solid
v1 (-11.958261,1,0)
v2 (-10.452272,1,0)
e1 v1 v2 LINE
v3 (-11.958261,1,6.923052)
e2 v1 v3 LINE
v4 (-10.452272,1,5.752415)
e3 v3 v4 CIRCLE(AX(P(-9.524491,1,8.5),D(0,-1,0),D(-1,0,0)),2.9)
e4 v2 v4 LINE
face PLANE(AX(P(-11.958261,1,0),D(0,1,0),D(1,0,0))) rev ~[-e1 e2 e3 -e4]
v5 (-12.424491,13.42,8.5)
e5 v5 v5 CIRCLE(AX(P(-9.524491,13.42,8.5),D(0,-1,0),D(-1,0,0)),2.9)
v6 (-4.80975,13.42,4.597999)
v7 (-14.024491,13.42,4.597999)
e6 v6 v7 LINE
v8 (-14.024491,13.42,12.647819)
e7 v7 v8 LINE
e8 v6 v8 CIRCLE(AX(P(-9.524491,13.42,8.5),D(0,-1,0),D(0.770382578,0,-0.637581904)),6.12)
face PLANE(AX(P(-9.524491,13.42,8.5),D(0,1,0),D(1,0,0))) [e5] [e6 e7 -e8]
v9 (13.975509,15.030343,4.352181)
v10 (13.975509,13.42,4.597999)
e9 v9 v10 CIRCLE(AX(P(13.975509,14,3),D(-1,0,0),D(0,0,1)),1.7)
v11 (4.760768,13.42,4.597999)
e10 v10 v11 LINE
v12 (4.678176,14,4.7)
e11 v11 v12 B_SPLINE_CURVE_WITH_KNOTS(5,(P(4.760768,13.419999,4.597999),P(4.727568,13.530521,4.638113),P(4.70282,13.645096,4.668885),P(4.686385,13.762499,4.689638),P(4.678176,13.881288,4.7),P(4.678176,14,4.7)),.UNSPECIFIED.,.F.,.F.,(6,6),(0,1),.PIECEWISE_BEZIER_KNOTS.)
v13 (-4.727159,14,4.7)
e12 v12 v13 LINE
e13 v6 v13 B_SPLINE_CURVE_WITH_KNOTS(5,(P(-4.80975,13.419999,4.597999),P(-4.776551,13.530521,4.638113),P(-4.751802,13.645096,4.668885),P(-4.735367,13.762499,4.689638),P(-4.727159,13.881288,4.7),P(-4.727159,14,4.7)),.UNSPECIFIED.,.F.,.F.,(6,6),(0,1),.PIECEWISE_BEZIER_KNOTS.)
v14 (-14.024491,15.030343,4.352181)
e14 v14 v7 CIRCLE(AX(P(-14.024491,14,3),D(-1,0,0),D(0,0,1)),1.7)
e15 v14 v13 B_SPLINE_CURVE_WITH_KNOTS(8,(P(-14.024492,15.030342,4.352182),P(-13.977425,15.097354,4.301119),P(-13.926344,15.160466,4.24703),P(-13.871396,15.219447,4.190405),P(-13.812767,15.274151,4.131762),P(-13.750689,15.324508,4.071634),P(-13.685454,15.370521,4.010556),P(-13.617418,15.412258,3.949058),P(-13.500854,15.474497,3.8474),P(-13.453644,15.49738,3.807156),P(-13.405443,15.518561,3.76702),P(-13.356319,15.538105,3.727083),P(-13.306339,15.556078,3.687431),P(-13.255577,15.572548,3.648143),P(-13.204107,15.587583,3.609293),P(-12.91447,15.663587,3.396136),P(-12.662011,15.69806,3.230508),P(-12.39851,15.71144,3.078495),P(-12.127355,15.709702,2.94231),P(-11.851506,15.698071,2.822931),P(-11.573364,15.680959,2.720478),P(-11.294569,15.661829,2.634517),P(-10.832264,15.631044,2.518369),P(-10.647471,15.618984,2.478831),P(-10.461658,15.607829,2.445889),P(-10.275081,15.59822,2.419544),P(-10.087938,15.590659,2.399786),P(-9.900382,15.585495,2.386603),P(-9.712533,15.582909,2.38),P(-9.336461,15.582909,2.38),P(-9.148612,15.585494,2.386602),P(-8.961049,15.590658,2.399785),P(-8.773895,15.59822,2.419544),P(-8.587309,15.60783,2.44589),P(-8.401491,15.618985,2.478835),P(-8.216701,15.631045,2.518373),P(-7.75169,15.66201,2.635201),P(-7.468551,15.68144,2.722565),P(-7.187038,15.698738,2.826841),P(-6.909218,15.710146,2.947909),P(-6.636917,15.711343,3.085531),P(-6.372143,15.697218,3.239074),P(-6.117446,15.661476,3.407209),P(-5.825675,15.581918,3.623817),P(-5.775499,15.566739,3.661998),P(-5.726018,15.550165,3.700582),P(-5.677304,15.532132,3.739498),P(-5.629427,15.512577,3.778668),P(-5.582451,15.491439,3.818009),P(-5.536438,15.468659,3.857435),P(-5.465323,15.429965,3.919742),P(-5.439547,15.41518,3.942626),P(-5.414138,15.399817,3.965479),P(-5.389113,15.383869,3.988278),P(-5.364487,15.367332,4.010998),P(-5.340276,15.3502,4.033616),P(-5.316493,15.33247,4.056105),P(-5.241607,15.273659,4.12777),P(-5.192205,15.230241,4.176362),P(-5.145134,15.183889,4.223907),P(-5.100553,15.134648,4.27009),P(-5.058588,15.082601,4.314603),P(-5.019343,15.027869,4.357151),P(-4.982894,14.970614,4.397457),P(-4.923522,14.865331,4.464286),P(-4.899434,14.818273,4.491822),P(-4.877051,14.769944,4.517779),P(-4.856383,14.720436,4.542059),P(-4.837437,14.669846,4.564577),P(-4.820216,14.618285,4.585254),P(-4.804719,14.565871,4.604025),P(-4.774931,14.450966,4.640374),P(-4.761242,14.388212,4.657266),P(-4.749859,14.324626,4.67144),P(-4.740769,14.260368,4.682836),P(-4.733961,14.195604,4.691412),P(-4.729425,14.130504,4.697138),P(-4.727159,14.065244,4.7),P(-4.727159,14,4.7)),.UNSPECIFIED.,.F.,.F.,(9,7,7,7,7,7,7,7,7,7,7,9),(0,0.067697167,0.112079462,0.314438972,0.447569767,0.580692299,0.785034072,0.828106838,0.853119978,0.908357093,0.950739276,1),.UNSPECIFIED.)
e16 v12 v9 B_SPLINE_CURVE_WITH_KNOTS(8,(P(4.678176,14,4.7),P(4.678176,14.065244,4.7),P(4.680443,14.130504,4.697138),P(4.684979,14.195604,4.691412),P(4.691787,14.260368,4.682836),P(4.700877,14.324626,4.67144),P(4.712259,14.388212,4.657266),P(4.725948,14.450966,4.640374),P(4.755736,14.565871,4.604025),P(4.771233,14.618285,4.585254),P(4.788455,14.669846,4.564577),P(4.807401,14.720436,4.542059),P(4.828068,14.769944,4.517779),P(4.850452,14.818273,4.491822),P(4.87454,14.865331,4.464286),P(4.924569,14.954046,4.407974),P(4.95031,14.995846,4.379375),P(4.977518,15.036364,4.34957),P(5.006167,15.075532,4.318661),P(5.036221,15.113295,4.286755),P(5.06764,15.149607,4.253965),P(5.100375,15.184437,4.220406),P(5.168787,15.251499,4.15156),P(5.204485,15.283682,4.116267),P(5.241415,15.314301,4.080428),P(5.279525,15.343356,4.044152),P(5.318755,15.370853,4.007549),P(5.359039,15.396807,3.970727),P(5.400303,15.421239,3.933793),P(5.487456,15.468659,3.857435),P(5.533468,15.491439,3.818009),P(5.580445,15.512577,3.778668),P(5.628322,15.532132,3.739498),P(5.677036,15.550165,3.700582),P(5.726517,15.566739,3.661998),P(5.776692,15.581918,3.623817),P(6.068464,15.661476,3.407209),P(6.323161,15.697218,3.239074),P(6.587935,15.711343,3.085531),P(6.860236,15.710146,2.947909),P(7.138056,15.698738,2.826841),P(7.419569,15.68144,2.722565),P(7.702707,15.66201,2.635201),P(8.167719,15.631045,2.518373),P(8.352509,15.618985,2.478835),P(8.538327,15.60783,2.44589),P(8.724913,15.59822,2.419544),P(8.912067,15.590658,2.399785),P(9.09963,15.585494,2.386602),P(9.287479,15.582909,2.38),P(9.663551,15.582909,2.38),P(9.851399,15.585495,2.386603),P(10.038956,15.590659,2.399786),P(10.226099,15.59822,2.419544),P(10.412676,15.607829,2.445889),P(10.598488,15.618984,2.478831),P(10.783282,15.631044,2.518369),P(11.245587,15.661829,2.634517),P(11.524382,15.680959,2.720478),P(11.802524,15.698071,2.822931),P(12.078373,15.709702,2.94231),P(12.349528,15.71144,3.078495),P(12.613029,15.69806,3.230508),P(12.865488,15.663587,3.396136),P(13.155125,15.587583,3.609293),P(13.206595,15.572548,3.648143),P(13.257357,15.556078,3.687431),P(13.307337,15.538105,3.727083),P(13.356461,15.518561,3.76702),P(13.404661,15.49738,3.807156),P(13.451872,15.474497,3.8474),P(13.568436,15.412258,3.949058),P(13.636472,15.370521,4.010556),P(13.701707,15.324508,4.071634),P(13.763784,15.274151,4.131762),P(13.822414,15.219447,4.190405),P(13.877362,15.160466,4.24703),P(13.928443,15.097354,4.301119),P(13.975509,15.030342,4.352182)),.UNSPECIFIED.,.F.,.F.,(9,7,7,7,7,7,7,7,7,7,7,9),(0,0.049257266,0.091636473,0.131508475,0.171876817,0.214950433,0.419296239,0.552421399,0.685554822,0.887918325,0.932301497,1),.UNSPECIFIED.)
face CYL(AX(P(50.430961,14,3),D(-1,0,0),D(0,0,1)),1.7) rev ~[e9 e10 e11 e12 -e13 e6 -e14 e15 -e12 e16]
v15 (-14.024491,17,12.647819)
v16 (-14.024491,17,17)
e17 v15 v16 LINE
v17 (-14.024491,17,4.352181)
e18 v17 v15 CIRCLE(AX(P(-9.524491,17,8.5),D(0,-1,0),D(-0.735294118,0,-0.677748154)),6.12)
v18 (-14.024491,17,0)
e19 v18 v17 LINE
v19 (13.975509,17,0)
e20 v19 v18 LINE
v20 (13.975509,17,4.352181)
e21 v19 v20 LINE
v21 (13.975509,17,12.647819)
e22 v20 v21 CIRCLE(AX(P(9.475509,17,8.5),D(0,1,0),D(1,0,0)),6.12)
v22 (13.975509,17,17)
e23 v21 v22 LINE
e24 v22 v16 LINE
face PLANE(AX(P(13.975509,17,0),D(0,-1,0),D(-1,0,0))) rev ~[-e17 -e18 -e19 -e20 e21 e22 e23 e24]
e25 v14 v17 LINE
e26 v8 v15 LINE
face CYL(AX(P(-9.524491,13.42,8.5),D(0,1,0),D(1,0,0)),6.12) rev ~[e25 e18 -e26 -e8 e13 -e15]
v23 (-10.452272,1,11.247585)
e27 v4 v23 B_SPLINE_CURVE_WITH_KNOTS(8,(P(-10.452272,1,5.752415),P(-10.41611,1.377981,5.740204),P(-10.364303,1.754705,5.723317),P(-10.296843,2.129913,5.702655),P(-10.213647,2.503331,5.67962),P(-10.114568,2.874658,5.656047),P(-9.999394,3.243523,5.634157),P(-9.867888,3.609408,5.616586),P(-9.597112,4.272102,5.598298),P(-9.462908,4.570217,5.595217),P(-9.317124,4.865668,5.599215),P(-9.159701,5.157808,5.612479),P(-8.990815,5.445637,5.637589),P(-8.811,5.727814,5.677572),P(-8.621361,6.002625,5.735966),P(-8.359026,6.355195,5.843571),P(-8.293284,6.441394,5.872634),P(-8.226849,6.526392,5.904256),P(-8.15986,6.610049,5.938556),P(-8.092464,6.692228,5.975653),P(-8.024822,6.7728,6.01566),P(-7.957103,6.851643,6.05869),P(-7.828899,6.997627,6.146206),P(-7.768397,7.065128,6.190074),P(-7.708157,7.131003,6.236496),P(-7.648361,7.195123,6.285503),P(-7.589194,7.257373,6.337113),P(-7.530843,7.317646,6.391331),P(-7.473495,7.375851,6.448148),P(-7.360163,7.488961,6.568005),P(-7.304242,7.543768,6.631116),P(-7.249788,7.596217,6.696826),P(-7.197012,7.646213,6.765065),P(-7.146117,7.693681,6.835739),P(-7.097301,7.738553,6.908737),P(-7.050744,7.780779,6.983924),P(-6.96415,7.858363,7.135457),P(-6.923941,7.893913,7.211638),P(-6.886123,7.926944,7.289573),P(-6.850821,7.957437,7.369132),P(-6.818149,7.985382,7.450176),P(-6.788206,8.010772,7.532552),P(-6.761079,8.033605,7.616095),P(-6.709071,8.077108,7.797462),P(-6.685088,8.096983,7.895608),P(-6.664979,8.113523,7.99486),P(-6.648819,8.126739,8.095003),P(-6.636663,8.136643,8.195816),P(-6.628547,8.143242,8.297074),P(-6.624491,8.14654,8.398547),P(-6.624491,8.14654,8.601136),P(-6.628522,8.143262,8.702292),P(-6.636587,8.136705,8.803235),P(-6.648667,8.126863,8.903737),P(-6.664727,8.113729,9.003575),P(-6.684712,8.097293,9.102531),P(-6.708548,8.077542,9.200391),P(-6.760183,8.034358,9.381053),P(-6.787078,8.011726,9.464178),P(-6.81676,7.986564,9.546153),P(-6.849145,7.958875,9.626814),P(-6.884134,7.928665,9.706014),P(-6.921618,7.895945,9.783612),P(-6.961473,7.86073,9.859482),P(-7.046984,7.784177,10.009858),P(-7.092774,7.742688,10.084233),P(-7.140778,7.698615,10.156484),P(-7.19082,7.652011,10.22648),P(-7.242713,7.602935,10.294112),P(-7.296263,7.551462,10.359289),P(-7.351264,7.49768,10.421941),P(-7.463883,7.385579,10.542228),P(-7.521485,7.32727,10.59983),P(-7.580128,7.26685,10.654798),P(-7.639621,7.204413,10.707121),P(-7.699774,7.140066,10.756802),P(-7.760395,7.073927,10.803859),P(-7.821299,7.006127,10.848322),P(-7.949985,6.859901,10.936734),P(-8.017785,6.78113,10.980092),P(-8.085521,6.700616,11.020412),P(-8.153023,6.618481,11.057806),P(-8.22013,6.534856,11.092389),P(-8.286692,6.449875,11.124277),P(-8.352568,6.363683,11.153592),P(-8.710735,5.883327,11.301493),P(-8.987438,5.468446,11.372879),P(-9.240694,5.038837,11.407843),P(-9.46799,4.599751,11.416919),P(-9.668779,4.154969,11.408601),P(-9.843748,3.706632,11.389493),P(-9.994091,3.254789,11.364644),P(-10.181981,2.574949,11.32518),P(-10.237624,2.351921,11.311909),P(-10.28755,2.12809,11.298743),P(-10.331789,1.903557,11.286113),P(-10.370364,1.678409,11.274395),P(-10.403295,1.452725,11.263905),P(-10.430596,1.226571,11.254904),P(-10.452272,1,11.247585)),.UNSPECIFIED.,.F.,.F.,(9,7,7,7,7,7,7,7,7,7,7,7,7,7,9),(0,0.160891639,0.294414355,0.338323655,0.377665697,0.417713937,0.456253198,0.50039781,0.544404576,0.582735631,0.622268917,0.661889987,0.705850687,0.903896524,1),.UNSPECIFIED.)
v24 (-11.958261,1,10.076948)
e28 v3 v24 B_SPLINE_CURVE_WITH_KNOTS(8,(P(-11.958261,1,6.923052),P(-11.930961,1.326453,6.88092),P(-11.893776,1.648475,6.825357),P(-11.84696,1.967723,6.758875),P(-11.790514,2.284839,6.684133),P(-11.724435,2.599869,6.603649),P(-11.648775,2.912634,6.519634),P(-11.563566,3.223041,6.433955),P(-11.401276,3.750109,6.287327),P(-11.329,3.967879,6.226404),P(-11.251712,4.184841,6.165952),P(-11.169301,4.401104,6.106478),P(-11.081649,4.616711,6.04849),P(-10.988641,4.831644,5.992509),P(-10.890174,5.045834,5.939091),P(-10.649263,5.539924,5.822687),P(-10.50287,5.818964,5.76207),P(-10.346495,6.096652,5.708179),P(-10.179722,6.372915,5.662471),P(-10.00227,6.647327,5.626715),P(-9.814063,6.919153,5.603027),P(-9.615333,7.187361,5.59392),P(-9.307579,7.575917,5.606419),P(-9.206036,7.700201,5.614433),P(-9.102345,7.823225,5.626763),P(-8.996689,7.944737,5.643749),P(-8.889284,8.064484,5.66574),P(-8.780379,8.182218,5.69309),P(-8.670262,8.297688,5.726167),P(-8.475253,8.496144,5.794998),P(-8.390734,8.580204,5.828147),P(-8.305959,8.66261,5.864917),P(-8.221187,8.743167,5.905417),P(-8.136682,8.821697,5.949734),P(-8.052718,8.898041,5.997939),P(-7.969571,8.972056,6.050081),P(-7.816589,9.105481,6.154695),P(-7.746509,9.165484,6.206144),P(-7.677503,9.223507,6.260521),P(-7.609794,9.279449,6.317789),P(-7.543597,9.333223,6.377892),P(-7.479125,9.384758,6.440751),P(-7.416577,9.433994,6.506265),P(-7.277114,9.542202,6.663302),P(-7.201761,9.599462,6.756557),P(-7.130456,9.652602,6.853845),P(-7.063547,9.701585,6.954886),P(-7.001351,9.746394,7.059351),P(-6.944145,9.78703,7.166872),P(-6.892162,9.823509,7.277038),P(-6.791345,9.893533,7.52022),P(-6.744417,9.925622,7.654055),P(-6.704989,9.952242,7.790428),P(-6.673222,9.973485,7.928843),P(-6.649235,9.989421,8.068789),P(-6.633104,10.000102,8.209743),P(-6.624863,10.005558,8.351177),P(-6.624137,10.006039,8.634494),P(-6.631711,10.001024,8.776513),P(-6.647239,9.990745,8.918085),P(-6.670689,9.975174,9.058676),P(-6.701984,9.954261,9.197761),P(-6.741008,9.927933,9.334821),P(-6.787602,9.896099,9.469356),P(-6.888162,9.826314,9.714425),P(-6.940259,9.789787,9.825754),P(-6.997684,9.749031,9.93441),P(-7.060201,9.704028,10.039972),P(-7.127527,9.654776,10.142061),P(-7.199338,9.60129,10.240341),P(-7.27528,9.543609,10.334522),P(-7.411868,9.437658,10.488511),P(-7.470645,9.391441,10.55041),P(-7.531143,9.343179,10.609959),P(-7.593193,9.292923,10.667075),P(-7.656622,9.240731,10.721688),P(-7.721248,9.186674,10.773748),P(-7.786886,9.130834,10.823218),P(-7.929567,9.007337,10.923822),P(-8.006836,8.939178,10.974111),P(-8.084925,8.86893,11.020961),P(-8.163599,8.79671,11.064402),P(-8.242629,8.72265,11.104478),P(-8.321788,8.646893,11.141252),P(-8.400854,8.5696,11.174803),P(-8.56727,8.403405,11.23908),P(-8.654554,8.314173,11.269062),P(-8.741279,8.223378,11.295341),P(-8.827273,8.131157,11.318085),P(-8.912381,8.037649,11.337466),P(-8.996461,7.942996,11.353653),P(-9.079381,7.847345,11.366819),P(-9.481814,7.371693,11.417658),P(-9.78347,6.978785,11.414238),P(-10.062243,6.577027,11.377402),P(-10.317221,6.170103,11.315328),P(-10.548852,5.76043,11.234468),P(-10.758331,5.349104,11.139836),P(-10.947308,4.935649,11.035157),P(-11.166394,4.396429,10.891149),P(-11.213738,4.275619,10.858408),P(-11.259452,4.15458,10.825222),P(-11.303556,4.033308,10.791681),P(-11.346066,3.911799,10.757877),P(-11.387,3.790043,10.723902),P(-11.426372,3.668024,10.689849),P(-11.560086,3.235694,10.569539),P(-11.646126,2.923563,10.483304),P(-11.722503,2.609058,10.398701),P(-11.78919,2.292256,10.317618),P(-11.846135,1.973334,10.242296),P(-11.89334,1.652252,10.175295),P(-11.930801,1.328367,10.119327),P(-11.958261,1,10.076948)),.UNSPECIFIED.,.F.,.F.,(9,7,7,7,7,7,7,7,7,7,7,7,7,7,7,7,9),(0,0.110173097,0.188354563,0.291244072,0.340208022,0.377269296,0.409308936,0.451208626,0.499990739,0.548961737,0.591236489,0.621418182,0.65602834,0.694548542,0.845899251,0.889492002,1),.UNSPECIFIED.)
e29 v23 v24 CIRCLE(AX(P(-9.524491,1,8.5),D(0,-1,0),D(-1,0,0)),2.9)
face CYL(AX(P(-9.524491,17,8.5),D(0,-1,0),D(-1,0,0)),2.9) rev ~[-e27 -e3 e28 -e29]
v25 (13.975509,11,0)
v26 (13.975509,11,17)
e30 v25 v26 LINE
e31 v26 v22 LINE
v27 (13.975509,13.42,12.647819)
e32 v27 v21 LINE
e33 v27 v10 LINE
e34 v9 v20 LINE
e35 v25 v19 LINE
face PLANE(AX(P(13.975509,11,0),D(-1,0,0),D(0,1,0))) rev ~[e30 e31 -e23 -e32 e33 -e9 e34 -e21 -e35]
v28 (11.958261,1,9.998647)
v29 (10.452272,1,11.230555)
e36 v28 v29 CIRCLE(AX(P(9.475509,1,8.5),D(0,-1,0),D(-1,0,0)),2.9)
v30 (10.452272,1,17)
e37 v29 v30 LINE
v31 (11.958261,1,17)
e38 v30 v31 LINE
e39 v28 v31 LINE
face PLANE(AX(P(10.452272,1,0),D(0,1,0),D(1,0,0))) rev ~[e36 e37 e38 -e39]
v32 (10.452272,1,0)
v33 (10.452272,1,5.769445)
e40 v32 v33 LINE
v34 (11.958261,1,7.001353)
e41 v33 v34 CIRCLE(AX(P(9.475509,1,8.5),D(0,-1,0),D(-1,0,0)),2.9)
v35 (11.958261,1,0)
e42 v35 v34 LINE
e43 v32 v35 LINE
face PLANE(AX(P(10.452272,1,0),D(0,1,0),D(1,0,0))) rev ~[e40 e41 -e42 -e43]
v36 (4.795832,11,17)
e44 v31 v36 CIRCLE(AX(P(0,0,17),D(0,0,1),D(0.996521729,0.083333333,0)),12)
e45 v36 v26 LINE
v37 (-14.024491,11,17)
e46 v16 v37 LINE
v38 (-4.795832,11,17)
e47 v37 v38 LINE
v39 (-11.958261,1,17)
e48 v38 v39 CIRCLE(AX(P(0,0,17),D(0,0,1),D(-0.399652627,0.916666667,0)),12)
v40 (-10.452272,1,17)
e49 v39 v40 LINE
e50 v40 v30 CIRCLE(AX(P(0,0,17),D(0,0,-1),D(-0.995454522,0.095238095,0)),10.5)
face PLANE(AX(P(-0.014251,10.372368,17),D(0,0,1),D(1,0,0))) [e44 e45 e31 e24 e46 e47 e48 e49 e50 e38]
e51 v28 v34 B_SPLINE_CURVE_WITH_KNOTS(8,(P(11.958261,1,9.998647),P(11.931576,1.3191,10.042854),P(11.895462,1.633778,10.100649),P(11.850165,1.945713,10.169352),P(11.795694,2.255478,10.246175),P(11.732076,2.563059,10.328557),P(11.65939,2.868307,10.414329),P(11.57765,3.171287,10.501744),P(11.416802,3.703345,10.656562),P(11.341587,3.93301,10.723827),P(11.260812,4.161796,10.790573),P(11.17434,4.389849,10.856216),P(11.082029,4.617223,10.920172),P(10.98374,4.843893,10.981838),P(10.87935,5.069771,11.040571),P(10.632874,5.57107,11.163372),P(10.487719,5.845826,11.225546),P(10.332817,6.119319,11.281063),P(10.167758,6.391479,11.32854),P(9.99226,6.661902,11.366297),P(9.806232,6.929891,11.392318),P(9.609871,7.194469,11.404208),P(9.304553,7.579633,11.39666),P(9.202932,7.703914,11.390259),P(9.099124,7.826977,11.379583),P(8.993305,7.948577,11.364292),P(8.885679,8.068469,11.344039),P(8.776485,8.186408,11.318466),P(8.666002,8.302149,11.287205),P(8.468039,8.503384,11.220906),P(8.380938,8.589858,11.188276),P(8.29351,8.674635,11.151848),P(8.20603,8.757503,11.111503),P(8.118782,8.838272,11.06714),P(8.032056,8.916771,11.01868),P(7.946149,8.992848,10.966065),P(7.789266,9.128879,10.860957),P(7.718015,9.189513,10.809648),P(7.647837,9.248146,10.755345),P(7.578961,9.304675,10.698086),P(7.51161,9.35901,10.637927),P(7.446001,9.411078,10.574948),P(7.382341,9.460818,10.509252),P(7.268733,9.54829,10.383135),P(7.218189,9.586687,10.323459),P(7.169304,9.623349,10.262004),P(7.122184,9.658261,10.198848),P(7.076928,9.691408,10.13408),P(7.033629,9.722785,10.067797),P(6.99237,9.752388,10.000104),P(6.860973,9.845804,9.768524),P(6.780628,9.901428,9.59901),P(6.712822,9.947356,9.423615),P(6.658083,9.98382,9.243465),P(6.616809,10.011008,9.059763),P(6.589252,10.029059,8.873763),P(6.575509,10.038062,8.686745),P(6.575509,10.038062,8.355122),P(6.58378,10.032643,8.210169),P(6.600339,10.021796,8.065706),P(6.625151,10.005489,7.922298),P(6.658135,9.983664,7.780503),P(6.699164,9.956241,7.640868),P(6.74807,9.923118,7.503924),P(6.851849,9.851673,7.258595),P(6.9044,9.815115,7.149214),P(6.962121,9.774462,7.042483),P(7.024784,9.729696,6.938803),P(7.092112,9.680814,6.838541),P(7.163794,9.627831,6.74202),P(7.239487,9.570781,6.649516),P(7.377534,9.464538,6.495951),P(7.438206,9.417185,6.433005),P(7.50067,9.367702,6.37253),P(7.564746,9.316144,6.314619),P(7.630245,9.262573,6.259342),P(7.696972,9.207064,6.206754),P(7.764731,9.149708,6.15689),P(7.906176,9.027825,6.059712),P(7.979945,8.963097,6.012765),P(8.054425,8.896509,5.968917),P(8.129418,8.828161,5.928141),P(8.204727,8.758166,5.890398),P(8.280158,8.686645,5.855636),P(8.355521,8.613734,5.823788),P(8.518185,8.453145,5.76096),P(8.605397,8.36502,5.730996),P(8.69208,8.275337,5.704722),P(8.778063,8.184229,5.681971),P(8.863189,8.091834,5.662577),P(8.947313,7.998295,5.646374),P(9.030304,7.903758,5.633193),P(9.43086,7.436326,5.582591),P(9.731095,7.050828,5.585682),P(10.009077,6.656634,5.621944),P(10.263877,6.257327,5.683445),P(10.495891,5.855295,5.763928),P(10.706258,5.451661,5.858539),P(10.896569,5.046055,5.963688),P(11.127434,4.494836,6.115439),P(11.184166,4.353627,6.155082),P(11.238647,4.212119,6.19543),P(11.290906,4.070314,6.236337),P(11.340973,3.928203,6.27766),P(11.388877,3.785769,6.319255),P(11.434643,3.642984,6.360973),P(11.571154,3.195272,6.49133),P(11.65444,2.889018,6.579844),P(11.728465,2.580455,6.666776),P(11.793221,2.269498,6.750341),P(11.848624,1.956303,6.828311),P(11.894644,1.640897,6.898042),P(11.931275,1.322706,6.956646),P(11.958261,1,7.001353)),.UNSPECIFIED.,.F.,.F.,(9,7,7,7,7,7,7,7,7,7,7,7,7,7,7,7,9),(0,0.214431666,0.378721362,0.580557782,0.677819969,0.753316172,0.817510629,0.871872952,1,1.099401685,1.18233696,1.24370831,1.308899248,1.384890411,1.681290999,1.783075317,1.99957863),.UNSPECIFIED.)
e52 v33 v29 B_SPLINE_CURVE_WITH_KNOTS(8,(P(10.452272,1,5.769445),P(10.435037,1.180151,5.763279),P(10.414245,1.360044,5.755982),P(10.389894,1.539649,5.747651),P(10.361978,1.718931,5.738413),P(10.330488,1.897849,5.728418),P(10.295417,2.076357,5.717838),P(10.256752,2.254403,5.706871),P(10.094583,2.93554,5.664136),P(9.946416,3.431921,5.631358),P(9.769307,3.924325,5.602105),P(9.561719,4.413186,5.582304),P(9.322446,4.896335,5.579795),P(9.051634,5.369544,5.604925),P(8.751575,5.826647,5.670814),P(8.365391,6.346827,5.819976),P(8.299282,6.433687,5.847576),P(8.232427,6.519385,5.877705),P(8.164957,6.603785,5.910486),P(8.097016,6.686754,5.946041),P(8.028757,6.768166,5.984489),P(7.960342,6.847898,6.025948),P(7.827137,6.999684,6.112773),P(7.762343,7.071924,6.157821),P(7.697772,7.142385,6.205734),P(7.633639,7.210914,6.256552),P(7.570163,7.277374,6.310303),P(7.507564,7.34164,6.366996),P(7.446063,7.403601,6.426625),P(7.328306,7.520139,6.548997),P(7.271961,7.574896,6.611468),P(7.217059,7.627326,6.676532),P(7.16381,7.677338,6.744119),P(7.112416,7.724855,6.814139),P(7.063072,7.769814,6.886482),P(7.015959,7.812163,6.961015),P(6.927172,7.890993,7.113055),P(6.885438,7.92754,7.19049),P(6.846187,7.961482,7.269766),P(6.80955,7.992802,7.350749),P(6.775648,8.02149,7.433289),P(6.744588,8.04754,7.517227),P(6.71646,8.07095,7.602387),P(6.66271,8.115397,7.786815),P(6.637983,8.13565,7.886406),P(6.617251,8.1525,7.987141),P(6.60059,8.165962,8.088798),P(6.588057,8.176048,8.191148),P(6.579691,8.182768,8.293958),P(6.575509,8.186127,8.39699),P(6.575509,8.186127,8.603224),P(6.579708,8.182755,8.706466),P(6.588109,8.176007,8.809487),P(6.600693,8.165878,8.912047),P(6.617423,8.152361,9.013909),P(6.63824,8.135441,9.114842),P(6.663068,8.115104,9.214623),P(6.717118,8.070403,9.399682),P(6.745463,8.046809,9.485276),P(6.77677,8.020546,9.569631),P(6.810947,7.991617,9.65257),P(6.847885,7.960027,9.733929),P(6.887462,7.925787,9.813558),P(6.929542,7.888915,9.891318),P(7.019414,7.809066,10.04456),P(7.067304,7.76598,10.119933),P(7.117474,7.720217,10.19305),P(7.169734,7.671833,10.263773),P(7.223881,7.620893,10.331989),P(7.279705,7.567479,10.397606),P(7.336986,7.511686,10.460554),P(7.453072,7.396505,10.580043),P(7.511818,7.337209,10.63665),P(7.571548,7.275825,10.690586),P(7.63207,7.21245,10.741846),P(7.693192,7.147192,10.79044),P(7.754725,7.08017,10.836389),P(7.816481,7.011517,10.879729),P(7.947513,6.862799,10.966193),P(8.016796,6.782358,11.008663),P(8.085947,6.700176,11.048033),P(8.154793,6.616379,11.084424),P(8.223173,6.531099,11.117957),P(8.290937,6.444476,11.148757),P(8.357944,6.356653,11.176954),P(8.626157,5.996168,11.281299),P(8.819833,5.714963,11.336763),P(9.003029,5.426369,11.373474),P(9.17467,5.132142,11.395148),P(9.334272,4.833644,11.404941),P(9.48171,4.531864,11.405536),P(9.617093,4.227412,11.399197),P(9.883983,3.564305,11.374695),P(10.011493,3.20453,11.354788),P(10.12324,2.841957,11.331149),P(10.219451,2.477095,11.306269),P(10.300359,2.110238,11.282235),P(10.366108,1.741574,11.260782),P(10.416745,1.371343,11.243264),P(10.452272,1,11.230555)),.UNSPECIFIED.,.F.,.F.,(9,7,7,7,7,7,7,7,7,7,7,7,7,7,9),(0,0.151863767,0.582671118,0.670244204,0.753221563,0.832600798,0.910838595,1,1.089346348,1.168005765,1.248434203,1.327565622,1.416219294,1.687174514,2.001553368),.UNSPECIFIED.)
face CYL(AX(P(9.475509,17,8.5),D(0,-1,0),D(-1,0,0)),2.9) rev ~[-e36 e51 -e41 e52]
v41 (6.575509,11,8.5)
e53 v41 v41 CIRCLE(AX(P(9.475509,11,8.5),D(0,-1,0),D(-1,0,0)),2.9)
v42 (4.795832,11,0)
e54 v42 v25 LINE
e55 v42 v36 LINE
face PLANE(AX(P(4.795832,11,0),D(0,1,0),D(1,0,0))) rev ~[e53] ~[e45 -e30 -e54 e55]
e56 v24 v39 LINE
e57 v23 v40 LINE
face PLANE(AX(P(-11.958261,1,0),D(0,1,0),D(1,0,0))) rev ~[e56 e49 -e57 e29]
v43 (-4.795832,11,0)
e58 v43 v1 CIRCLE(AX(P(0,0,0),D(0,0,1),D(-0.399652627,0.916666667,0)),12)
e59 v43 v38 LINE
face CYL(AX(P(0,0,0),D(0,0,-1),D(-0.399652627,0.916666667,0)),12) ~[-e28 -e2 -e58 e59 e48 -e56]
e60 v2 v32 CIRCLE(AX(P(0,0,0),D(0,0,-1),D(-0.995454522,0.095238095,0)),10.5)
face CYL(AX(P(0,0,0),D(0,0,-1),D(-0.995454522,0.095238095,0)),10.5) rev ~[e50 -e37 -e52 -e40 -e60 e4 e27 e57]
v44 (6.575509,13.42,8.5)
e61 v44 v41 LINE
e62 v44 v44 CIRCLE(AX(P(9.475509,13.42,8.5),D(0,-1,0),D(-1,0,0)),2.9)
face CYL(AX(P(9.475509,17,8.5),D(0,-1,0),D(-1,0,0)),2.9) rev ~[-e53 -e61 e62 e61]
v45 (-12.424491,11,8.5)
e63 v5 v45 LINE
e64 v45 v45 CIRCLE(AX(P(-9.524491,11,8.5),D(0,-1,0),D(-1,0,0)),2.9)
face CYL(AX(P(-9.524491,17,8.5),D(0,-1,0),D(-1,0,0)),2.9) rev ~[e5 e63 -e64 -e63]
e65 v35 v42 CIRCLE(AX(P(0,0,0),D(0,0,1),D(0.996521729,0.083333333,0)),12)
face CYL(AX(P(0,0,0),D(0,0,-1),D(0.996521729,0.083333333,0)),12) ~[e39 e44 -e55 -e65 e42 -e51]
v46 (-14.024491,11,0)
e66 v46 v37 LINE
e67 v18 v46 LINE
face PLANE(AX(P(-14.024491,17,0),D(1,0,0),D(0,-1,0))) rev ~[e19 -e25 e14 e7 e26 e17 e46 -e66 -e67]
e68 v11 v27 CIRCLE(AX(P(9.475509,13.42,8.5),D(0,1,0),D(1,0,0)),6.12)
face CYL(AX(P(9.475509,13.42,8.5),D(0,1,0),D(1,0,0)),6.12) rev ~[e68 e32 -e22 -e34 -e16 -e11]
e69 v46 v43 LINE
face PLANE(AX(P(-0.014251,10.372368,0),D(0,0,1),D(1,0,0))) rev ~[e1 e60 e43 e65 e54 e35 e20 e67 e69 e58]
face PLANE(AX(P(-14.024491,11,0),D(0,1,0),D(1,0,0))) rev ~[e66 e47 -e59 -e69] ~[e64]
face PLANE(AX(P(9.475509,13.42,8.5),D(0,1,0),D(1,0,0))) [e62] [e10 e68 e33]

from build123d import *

# Parameters (mm, degrees)
SALIENTE_EXTRUIR1_DEPTH                              = 17
TALADRO_DE_MARGEN_PARA_M31_D                         = 3.4
REFRENTADO_PARA_PERNO_CON_CABEZA_HEXAGON_D           = 5.8
REFRENTADO_PARA_PERNO_CON_CABEZA_HEXAGON_CBORE_D     = 12.24
REFRENTADO_PARA_PERNO_CON_CABEZA_HEXAGON_CBORE_DEPTH = 3.58


with BuildPart() as part:
    # Croquis1 → Saliente-Extruir1 (new body)
    with BuildSketch(Plane.XY):
        with BuildLine():
            Line((13.975508884, 11), (13.975508884, 17))
            Line((13.975508884, 17), (-14.024491116, 17))
            Line((-14.024491116, 17), (-14.024491116, 11))
            Line((-14.024491116, 11), (-4.795831523, 11))
            ThreePointArc((-4.795831523, 11), (-9.755762498, 6.987495838), (-11.958260743, 1))
            Line((-11.958260743, 1), (-10.45227248, 1))
            ThreePointArc((-10.45227248, 1), (0, 10.5), (10.45227248, 1))
            Line((10.45227248, 1), (11.958260743, 1))
            ThreePointArc((11.958260743, 1), (9.755762498, 6.987495838), (4.795831523, 11))
            Line((4.795831523, 11), (13.975508884, 11))
        make_face()
    extrude(amount=SALIENTE_EXTRUIR1_DEPTH)

    # Taladro de margen para M31 (through all)
    with Locations(Plane(origin=(13.975508884, 0, 0), x_dir=(0, 0, -1), z_dir=(1, 0, 0))):
        with Locations((-3, 14)):
            Hole(TALADRO_DE_MARGEN_PARA_M31_D / 2)

    # Refrentado para perno con cabeza hexagonal de M51 (through all)
    with Locations(Plane(origin=(0, 17, 0), x_dir=(1, 0, 0), z_dir=(0, 1, 0))):
        with Locations((9.475508884, -8.5), (-9.524491116, -8.5)):
            CounterBoreHole(REFRENTADO_PARA_PERNO_CON_CABEZA_HEXAGON_D / 2, REFRENTADO_PARA_PERNO_CON_CABEZA_HEXAGON_CBORE_D / 2, REFRENTADO_PARA_PERNO_CON_CABEZA_HEXAGON_CBORE_DEPTH)


solid = part.part
